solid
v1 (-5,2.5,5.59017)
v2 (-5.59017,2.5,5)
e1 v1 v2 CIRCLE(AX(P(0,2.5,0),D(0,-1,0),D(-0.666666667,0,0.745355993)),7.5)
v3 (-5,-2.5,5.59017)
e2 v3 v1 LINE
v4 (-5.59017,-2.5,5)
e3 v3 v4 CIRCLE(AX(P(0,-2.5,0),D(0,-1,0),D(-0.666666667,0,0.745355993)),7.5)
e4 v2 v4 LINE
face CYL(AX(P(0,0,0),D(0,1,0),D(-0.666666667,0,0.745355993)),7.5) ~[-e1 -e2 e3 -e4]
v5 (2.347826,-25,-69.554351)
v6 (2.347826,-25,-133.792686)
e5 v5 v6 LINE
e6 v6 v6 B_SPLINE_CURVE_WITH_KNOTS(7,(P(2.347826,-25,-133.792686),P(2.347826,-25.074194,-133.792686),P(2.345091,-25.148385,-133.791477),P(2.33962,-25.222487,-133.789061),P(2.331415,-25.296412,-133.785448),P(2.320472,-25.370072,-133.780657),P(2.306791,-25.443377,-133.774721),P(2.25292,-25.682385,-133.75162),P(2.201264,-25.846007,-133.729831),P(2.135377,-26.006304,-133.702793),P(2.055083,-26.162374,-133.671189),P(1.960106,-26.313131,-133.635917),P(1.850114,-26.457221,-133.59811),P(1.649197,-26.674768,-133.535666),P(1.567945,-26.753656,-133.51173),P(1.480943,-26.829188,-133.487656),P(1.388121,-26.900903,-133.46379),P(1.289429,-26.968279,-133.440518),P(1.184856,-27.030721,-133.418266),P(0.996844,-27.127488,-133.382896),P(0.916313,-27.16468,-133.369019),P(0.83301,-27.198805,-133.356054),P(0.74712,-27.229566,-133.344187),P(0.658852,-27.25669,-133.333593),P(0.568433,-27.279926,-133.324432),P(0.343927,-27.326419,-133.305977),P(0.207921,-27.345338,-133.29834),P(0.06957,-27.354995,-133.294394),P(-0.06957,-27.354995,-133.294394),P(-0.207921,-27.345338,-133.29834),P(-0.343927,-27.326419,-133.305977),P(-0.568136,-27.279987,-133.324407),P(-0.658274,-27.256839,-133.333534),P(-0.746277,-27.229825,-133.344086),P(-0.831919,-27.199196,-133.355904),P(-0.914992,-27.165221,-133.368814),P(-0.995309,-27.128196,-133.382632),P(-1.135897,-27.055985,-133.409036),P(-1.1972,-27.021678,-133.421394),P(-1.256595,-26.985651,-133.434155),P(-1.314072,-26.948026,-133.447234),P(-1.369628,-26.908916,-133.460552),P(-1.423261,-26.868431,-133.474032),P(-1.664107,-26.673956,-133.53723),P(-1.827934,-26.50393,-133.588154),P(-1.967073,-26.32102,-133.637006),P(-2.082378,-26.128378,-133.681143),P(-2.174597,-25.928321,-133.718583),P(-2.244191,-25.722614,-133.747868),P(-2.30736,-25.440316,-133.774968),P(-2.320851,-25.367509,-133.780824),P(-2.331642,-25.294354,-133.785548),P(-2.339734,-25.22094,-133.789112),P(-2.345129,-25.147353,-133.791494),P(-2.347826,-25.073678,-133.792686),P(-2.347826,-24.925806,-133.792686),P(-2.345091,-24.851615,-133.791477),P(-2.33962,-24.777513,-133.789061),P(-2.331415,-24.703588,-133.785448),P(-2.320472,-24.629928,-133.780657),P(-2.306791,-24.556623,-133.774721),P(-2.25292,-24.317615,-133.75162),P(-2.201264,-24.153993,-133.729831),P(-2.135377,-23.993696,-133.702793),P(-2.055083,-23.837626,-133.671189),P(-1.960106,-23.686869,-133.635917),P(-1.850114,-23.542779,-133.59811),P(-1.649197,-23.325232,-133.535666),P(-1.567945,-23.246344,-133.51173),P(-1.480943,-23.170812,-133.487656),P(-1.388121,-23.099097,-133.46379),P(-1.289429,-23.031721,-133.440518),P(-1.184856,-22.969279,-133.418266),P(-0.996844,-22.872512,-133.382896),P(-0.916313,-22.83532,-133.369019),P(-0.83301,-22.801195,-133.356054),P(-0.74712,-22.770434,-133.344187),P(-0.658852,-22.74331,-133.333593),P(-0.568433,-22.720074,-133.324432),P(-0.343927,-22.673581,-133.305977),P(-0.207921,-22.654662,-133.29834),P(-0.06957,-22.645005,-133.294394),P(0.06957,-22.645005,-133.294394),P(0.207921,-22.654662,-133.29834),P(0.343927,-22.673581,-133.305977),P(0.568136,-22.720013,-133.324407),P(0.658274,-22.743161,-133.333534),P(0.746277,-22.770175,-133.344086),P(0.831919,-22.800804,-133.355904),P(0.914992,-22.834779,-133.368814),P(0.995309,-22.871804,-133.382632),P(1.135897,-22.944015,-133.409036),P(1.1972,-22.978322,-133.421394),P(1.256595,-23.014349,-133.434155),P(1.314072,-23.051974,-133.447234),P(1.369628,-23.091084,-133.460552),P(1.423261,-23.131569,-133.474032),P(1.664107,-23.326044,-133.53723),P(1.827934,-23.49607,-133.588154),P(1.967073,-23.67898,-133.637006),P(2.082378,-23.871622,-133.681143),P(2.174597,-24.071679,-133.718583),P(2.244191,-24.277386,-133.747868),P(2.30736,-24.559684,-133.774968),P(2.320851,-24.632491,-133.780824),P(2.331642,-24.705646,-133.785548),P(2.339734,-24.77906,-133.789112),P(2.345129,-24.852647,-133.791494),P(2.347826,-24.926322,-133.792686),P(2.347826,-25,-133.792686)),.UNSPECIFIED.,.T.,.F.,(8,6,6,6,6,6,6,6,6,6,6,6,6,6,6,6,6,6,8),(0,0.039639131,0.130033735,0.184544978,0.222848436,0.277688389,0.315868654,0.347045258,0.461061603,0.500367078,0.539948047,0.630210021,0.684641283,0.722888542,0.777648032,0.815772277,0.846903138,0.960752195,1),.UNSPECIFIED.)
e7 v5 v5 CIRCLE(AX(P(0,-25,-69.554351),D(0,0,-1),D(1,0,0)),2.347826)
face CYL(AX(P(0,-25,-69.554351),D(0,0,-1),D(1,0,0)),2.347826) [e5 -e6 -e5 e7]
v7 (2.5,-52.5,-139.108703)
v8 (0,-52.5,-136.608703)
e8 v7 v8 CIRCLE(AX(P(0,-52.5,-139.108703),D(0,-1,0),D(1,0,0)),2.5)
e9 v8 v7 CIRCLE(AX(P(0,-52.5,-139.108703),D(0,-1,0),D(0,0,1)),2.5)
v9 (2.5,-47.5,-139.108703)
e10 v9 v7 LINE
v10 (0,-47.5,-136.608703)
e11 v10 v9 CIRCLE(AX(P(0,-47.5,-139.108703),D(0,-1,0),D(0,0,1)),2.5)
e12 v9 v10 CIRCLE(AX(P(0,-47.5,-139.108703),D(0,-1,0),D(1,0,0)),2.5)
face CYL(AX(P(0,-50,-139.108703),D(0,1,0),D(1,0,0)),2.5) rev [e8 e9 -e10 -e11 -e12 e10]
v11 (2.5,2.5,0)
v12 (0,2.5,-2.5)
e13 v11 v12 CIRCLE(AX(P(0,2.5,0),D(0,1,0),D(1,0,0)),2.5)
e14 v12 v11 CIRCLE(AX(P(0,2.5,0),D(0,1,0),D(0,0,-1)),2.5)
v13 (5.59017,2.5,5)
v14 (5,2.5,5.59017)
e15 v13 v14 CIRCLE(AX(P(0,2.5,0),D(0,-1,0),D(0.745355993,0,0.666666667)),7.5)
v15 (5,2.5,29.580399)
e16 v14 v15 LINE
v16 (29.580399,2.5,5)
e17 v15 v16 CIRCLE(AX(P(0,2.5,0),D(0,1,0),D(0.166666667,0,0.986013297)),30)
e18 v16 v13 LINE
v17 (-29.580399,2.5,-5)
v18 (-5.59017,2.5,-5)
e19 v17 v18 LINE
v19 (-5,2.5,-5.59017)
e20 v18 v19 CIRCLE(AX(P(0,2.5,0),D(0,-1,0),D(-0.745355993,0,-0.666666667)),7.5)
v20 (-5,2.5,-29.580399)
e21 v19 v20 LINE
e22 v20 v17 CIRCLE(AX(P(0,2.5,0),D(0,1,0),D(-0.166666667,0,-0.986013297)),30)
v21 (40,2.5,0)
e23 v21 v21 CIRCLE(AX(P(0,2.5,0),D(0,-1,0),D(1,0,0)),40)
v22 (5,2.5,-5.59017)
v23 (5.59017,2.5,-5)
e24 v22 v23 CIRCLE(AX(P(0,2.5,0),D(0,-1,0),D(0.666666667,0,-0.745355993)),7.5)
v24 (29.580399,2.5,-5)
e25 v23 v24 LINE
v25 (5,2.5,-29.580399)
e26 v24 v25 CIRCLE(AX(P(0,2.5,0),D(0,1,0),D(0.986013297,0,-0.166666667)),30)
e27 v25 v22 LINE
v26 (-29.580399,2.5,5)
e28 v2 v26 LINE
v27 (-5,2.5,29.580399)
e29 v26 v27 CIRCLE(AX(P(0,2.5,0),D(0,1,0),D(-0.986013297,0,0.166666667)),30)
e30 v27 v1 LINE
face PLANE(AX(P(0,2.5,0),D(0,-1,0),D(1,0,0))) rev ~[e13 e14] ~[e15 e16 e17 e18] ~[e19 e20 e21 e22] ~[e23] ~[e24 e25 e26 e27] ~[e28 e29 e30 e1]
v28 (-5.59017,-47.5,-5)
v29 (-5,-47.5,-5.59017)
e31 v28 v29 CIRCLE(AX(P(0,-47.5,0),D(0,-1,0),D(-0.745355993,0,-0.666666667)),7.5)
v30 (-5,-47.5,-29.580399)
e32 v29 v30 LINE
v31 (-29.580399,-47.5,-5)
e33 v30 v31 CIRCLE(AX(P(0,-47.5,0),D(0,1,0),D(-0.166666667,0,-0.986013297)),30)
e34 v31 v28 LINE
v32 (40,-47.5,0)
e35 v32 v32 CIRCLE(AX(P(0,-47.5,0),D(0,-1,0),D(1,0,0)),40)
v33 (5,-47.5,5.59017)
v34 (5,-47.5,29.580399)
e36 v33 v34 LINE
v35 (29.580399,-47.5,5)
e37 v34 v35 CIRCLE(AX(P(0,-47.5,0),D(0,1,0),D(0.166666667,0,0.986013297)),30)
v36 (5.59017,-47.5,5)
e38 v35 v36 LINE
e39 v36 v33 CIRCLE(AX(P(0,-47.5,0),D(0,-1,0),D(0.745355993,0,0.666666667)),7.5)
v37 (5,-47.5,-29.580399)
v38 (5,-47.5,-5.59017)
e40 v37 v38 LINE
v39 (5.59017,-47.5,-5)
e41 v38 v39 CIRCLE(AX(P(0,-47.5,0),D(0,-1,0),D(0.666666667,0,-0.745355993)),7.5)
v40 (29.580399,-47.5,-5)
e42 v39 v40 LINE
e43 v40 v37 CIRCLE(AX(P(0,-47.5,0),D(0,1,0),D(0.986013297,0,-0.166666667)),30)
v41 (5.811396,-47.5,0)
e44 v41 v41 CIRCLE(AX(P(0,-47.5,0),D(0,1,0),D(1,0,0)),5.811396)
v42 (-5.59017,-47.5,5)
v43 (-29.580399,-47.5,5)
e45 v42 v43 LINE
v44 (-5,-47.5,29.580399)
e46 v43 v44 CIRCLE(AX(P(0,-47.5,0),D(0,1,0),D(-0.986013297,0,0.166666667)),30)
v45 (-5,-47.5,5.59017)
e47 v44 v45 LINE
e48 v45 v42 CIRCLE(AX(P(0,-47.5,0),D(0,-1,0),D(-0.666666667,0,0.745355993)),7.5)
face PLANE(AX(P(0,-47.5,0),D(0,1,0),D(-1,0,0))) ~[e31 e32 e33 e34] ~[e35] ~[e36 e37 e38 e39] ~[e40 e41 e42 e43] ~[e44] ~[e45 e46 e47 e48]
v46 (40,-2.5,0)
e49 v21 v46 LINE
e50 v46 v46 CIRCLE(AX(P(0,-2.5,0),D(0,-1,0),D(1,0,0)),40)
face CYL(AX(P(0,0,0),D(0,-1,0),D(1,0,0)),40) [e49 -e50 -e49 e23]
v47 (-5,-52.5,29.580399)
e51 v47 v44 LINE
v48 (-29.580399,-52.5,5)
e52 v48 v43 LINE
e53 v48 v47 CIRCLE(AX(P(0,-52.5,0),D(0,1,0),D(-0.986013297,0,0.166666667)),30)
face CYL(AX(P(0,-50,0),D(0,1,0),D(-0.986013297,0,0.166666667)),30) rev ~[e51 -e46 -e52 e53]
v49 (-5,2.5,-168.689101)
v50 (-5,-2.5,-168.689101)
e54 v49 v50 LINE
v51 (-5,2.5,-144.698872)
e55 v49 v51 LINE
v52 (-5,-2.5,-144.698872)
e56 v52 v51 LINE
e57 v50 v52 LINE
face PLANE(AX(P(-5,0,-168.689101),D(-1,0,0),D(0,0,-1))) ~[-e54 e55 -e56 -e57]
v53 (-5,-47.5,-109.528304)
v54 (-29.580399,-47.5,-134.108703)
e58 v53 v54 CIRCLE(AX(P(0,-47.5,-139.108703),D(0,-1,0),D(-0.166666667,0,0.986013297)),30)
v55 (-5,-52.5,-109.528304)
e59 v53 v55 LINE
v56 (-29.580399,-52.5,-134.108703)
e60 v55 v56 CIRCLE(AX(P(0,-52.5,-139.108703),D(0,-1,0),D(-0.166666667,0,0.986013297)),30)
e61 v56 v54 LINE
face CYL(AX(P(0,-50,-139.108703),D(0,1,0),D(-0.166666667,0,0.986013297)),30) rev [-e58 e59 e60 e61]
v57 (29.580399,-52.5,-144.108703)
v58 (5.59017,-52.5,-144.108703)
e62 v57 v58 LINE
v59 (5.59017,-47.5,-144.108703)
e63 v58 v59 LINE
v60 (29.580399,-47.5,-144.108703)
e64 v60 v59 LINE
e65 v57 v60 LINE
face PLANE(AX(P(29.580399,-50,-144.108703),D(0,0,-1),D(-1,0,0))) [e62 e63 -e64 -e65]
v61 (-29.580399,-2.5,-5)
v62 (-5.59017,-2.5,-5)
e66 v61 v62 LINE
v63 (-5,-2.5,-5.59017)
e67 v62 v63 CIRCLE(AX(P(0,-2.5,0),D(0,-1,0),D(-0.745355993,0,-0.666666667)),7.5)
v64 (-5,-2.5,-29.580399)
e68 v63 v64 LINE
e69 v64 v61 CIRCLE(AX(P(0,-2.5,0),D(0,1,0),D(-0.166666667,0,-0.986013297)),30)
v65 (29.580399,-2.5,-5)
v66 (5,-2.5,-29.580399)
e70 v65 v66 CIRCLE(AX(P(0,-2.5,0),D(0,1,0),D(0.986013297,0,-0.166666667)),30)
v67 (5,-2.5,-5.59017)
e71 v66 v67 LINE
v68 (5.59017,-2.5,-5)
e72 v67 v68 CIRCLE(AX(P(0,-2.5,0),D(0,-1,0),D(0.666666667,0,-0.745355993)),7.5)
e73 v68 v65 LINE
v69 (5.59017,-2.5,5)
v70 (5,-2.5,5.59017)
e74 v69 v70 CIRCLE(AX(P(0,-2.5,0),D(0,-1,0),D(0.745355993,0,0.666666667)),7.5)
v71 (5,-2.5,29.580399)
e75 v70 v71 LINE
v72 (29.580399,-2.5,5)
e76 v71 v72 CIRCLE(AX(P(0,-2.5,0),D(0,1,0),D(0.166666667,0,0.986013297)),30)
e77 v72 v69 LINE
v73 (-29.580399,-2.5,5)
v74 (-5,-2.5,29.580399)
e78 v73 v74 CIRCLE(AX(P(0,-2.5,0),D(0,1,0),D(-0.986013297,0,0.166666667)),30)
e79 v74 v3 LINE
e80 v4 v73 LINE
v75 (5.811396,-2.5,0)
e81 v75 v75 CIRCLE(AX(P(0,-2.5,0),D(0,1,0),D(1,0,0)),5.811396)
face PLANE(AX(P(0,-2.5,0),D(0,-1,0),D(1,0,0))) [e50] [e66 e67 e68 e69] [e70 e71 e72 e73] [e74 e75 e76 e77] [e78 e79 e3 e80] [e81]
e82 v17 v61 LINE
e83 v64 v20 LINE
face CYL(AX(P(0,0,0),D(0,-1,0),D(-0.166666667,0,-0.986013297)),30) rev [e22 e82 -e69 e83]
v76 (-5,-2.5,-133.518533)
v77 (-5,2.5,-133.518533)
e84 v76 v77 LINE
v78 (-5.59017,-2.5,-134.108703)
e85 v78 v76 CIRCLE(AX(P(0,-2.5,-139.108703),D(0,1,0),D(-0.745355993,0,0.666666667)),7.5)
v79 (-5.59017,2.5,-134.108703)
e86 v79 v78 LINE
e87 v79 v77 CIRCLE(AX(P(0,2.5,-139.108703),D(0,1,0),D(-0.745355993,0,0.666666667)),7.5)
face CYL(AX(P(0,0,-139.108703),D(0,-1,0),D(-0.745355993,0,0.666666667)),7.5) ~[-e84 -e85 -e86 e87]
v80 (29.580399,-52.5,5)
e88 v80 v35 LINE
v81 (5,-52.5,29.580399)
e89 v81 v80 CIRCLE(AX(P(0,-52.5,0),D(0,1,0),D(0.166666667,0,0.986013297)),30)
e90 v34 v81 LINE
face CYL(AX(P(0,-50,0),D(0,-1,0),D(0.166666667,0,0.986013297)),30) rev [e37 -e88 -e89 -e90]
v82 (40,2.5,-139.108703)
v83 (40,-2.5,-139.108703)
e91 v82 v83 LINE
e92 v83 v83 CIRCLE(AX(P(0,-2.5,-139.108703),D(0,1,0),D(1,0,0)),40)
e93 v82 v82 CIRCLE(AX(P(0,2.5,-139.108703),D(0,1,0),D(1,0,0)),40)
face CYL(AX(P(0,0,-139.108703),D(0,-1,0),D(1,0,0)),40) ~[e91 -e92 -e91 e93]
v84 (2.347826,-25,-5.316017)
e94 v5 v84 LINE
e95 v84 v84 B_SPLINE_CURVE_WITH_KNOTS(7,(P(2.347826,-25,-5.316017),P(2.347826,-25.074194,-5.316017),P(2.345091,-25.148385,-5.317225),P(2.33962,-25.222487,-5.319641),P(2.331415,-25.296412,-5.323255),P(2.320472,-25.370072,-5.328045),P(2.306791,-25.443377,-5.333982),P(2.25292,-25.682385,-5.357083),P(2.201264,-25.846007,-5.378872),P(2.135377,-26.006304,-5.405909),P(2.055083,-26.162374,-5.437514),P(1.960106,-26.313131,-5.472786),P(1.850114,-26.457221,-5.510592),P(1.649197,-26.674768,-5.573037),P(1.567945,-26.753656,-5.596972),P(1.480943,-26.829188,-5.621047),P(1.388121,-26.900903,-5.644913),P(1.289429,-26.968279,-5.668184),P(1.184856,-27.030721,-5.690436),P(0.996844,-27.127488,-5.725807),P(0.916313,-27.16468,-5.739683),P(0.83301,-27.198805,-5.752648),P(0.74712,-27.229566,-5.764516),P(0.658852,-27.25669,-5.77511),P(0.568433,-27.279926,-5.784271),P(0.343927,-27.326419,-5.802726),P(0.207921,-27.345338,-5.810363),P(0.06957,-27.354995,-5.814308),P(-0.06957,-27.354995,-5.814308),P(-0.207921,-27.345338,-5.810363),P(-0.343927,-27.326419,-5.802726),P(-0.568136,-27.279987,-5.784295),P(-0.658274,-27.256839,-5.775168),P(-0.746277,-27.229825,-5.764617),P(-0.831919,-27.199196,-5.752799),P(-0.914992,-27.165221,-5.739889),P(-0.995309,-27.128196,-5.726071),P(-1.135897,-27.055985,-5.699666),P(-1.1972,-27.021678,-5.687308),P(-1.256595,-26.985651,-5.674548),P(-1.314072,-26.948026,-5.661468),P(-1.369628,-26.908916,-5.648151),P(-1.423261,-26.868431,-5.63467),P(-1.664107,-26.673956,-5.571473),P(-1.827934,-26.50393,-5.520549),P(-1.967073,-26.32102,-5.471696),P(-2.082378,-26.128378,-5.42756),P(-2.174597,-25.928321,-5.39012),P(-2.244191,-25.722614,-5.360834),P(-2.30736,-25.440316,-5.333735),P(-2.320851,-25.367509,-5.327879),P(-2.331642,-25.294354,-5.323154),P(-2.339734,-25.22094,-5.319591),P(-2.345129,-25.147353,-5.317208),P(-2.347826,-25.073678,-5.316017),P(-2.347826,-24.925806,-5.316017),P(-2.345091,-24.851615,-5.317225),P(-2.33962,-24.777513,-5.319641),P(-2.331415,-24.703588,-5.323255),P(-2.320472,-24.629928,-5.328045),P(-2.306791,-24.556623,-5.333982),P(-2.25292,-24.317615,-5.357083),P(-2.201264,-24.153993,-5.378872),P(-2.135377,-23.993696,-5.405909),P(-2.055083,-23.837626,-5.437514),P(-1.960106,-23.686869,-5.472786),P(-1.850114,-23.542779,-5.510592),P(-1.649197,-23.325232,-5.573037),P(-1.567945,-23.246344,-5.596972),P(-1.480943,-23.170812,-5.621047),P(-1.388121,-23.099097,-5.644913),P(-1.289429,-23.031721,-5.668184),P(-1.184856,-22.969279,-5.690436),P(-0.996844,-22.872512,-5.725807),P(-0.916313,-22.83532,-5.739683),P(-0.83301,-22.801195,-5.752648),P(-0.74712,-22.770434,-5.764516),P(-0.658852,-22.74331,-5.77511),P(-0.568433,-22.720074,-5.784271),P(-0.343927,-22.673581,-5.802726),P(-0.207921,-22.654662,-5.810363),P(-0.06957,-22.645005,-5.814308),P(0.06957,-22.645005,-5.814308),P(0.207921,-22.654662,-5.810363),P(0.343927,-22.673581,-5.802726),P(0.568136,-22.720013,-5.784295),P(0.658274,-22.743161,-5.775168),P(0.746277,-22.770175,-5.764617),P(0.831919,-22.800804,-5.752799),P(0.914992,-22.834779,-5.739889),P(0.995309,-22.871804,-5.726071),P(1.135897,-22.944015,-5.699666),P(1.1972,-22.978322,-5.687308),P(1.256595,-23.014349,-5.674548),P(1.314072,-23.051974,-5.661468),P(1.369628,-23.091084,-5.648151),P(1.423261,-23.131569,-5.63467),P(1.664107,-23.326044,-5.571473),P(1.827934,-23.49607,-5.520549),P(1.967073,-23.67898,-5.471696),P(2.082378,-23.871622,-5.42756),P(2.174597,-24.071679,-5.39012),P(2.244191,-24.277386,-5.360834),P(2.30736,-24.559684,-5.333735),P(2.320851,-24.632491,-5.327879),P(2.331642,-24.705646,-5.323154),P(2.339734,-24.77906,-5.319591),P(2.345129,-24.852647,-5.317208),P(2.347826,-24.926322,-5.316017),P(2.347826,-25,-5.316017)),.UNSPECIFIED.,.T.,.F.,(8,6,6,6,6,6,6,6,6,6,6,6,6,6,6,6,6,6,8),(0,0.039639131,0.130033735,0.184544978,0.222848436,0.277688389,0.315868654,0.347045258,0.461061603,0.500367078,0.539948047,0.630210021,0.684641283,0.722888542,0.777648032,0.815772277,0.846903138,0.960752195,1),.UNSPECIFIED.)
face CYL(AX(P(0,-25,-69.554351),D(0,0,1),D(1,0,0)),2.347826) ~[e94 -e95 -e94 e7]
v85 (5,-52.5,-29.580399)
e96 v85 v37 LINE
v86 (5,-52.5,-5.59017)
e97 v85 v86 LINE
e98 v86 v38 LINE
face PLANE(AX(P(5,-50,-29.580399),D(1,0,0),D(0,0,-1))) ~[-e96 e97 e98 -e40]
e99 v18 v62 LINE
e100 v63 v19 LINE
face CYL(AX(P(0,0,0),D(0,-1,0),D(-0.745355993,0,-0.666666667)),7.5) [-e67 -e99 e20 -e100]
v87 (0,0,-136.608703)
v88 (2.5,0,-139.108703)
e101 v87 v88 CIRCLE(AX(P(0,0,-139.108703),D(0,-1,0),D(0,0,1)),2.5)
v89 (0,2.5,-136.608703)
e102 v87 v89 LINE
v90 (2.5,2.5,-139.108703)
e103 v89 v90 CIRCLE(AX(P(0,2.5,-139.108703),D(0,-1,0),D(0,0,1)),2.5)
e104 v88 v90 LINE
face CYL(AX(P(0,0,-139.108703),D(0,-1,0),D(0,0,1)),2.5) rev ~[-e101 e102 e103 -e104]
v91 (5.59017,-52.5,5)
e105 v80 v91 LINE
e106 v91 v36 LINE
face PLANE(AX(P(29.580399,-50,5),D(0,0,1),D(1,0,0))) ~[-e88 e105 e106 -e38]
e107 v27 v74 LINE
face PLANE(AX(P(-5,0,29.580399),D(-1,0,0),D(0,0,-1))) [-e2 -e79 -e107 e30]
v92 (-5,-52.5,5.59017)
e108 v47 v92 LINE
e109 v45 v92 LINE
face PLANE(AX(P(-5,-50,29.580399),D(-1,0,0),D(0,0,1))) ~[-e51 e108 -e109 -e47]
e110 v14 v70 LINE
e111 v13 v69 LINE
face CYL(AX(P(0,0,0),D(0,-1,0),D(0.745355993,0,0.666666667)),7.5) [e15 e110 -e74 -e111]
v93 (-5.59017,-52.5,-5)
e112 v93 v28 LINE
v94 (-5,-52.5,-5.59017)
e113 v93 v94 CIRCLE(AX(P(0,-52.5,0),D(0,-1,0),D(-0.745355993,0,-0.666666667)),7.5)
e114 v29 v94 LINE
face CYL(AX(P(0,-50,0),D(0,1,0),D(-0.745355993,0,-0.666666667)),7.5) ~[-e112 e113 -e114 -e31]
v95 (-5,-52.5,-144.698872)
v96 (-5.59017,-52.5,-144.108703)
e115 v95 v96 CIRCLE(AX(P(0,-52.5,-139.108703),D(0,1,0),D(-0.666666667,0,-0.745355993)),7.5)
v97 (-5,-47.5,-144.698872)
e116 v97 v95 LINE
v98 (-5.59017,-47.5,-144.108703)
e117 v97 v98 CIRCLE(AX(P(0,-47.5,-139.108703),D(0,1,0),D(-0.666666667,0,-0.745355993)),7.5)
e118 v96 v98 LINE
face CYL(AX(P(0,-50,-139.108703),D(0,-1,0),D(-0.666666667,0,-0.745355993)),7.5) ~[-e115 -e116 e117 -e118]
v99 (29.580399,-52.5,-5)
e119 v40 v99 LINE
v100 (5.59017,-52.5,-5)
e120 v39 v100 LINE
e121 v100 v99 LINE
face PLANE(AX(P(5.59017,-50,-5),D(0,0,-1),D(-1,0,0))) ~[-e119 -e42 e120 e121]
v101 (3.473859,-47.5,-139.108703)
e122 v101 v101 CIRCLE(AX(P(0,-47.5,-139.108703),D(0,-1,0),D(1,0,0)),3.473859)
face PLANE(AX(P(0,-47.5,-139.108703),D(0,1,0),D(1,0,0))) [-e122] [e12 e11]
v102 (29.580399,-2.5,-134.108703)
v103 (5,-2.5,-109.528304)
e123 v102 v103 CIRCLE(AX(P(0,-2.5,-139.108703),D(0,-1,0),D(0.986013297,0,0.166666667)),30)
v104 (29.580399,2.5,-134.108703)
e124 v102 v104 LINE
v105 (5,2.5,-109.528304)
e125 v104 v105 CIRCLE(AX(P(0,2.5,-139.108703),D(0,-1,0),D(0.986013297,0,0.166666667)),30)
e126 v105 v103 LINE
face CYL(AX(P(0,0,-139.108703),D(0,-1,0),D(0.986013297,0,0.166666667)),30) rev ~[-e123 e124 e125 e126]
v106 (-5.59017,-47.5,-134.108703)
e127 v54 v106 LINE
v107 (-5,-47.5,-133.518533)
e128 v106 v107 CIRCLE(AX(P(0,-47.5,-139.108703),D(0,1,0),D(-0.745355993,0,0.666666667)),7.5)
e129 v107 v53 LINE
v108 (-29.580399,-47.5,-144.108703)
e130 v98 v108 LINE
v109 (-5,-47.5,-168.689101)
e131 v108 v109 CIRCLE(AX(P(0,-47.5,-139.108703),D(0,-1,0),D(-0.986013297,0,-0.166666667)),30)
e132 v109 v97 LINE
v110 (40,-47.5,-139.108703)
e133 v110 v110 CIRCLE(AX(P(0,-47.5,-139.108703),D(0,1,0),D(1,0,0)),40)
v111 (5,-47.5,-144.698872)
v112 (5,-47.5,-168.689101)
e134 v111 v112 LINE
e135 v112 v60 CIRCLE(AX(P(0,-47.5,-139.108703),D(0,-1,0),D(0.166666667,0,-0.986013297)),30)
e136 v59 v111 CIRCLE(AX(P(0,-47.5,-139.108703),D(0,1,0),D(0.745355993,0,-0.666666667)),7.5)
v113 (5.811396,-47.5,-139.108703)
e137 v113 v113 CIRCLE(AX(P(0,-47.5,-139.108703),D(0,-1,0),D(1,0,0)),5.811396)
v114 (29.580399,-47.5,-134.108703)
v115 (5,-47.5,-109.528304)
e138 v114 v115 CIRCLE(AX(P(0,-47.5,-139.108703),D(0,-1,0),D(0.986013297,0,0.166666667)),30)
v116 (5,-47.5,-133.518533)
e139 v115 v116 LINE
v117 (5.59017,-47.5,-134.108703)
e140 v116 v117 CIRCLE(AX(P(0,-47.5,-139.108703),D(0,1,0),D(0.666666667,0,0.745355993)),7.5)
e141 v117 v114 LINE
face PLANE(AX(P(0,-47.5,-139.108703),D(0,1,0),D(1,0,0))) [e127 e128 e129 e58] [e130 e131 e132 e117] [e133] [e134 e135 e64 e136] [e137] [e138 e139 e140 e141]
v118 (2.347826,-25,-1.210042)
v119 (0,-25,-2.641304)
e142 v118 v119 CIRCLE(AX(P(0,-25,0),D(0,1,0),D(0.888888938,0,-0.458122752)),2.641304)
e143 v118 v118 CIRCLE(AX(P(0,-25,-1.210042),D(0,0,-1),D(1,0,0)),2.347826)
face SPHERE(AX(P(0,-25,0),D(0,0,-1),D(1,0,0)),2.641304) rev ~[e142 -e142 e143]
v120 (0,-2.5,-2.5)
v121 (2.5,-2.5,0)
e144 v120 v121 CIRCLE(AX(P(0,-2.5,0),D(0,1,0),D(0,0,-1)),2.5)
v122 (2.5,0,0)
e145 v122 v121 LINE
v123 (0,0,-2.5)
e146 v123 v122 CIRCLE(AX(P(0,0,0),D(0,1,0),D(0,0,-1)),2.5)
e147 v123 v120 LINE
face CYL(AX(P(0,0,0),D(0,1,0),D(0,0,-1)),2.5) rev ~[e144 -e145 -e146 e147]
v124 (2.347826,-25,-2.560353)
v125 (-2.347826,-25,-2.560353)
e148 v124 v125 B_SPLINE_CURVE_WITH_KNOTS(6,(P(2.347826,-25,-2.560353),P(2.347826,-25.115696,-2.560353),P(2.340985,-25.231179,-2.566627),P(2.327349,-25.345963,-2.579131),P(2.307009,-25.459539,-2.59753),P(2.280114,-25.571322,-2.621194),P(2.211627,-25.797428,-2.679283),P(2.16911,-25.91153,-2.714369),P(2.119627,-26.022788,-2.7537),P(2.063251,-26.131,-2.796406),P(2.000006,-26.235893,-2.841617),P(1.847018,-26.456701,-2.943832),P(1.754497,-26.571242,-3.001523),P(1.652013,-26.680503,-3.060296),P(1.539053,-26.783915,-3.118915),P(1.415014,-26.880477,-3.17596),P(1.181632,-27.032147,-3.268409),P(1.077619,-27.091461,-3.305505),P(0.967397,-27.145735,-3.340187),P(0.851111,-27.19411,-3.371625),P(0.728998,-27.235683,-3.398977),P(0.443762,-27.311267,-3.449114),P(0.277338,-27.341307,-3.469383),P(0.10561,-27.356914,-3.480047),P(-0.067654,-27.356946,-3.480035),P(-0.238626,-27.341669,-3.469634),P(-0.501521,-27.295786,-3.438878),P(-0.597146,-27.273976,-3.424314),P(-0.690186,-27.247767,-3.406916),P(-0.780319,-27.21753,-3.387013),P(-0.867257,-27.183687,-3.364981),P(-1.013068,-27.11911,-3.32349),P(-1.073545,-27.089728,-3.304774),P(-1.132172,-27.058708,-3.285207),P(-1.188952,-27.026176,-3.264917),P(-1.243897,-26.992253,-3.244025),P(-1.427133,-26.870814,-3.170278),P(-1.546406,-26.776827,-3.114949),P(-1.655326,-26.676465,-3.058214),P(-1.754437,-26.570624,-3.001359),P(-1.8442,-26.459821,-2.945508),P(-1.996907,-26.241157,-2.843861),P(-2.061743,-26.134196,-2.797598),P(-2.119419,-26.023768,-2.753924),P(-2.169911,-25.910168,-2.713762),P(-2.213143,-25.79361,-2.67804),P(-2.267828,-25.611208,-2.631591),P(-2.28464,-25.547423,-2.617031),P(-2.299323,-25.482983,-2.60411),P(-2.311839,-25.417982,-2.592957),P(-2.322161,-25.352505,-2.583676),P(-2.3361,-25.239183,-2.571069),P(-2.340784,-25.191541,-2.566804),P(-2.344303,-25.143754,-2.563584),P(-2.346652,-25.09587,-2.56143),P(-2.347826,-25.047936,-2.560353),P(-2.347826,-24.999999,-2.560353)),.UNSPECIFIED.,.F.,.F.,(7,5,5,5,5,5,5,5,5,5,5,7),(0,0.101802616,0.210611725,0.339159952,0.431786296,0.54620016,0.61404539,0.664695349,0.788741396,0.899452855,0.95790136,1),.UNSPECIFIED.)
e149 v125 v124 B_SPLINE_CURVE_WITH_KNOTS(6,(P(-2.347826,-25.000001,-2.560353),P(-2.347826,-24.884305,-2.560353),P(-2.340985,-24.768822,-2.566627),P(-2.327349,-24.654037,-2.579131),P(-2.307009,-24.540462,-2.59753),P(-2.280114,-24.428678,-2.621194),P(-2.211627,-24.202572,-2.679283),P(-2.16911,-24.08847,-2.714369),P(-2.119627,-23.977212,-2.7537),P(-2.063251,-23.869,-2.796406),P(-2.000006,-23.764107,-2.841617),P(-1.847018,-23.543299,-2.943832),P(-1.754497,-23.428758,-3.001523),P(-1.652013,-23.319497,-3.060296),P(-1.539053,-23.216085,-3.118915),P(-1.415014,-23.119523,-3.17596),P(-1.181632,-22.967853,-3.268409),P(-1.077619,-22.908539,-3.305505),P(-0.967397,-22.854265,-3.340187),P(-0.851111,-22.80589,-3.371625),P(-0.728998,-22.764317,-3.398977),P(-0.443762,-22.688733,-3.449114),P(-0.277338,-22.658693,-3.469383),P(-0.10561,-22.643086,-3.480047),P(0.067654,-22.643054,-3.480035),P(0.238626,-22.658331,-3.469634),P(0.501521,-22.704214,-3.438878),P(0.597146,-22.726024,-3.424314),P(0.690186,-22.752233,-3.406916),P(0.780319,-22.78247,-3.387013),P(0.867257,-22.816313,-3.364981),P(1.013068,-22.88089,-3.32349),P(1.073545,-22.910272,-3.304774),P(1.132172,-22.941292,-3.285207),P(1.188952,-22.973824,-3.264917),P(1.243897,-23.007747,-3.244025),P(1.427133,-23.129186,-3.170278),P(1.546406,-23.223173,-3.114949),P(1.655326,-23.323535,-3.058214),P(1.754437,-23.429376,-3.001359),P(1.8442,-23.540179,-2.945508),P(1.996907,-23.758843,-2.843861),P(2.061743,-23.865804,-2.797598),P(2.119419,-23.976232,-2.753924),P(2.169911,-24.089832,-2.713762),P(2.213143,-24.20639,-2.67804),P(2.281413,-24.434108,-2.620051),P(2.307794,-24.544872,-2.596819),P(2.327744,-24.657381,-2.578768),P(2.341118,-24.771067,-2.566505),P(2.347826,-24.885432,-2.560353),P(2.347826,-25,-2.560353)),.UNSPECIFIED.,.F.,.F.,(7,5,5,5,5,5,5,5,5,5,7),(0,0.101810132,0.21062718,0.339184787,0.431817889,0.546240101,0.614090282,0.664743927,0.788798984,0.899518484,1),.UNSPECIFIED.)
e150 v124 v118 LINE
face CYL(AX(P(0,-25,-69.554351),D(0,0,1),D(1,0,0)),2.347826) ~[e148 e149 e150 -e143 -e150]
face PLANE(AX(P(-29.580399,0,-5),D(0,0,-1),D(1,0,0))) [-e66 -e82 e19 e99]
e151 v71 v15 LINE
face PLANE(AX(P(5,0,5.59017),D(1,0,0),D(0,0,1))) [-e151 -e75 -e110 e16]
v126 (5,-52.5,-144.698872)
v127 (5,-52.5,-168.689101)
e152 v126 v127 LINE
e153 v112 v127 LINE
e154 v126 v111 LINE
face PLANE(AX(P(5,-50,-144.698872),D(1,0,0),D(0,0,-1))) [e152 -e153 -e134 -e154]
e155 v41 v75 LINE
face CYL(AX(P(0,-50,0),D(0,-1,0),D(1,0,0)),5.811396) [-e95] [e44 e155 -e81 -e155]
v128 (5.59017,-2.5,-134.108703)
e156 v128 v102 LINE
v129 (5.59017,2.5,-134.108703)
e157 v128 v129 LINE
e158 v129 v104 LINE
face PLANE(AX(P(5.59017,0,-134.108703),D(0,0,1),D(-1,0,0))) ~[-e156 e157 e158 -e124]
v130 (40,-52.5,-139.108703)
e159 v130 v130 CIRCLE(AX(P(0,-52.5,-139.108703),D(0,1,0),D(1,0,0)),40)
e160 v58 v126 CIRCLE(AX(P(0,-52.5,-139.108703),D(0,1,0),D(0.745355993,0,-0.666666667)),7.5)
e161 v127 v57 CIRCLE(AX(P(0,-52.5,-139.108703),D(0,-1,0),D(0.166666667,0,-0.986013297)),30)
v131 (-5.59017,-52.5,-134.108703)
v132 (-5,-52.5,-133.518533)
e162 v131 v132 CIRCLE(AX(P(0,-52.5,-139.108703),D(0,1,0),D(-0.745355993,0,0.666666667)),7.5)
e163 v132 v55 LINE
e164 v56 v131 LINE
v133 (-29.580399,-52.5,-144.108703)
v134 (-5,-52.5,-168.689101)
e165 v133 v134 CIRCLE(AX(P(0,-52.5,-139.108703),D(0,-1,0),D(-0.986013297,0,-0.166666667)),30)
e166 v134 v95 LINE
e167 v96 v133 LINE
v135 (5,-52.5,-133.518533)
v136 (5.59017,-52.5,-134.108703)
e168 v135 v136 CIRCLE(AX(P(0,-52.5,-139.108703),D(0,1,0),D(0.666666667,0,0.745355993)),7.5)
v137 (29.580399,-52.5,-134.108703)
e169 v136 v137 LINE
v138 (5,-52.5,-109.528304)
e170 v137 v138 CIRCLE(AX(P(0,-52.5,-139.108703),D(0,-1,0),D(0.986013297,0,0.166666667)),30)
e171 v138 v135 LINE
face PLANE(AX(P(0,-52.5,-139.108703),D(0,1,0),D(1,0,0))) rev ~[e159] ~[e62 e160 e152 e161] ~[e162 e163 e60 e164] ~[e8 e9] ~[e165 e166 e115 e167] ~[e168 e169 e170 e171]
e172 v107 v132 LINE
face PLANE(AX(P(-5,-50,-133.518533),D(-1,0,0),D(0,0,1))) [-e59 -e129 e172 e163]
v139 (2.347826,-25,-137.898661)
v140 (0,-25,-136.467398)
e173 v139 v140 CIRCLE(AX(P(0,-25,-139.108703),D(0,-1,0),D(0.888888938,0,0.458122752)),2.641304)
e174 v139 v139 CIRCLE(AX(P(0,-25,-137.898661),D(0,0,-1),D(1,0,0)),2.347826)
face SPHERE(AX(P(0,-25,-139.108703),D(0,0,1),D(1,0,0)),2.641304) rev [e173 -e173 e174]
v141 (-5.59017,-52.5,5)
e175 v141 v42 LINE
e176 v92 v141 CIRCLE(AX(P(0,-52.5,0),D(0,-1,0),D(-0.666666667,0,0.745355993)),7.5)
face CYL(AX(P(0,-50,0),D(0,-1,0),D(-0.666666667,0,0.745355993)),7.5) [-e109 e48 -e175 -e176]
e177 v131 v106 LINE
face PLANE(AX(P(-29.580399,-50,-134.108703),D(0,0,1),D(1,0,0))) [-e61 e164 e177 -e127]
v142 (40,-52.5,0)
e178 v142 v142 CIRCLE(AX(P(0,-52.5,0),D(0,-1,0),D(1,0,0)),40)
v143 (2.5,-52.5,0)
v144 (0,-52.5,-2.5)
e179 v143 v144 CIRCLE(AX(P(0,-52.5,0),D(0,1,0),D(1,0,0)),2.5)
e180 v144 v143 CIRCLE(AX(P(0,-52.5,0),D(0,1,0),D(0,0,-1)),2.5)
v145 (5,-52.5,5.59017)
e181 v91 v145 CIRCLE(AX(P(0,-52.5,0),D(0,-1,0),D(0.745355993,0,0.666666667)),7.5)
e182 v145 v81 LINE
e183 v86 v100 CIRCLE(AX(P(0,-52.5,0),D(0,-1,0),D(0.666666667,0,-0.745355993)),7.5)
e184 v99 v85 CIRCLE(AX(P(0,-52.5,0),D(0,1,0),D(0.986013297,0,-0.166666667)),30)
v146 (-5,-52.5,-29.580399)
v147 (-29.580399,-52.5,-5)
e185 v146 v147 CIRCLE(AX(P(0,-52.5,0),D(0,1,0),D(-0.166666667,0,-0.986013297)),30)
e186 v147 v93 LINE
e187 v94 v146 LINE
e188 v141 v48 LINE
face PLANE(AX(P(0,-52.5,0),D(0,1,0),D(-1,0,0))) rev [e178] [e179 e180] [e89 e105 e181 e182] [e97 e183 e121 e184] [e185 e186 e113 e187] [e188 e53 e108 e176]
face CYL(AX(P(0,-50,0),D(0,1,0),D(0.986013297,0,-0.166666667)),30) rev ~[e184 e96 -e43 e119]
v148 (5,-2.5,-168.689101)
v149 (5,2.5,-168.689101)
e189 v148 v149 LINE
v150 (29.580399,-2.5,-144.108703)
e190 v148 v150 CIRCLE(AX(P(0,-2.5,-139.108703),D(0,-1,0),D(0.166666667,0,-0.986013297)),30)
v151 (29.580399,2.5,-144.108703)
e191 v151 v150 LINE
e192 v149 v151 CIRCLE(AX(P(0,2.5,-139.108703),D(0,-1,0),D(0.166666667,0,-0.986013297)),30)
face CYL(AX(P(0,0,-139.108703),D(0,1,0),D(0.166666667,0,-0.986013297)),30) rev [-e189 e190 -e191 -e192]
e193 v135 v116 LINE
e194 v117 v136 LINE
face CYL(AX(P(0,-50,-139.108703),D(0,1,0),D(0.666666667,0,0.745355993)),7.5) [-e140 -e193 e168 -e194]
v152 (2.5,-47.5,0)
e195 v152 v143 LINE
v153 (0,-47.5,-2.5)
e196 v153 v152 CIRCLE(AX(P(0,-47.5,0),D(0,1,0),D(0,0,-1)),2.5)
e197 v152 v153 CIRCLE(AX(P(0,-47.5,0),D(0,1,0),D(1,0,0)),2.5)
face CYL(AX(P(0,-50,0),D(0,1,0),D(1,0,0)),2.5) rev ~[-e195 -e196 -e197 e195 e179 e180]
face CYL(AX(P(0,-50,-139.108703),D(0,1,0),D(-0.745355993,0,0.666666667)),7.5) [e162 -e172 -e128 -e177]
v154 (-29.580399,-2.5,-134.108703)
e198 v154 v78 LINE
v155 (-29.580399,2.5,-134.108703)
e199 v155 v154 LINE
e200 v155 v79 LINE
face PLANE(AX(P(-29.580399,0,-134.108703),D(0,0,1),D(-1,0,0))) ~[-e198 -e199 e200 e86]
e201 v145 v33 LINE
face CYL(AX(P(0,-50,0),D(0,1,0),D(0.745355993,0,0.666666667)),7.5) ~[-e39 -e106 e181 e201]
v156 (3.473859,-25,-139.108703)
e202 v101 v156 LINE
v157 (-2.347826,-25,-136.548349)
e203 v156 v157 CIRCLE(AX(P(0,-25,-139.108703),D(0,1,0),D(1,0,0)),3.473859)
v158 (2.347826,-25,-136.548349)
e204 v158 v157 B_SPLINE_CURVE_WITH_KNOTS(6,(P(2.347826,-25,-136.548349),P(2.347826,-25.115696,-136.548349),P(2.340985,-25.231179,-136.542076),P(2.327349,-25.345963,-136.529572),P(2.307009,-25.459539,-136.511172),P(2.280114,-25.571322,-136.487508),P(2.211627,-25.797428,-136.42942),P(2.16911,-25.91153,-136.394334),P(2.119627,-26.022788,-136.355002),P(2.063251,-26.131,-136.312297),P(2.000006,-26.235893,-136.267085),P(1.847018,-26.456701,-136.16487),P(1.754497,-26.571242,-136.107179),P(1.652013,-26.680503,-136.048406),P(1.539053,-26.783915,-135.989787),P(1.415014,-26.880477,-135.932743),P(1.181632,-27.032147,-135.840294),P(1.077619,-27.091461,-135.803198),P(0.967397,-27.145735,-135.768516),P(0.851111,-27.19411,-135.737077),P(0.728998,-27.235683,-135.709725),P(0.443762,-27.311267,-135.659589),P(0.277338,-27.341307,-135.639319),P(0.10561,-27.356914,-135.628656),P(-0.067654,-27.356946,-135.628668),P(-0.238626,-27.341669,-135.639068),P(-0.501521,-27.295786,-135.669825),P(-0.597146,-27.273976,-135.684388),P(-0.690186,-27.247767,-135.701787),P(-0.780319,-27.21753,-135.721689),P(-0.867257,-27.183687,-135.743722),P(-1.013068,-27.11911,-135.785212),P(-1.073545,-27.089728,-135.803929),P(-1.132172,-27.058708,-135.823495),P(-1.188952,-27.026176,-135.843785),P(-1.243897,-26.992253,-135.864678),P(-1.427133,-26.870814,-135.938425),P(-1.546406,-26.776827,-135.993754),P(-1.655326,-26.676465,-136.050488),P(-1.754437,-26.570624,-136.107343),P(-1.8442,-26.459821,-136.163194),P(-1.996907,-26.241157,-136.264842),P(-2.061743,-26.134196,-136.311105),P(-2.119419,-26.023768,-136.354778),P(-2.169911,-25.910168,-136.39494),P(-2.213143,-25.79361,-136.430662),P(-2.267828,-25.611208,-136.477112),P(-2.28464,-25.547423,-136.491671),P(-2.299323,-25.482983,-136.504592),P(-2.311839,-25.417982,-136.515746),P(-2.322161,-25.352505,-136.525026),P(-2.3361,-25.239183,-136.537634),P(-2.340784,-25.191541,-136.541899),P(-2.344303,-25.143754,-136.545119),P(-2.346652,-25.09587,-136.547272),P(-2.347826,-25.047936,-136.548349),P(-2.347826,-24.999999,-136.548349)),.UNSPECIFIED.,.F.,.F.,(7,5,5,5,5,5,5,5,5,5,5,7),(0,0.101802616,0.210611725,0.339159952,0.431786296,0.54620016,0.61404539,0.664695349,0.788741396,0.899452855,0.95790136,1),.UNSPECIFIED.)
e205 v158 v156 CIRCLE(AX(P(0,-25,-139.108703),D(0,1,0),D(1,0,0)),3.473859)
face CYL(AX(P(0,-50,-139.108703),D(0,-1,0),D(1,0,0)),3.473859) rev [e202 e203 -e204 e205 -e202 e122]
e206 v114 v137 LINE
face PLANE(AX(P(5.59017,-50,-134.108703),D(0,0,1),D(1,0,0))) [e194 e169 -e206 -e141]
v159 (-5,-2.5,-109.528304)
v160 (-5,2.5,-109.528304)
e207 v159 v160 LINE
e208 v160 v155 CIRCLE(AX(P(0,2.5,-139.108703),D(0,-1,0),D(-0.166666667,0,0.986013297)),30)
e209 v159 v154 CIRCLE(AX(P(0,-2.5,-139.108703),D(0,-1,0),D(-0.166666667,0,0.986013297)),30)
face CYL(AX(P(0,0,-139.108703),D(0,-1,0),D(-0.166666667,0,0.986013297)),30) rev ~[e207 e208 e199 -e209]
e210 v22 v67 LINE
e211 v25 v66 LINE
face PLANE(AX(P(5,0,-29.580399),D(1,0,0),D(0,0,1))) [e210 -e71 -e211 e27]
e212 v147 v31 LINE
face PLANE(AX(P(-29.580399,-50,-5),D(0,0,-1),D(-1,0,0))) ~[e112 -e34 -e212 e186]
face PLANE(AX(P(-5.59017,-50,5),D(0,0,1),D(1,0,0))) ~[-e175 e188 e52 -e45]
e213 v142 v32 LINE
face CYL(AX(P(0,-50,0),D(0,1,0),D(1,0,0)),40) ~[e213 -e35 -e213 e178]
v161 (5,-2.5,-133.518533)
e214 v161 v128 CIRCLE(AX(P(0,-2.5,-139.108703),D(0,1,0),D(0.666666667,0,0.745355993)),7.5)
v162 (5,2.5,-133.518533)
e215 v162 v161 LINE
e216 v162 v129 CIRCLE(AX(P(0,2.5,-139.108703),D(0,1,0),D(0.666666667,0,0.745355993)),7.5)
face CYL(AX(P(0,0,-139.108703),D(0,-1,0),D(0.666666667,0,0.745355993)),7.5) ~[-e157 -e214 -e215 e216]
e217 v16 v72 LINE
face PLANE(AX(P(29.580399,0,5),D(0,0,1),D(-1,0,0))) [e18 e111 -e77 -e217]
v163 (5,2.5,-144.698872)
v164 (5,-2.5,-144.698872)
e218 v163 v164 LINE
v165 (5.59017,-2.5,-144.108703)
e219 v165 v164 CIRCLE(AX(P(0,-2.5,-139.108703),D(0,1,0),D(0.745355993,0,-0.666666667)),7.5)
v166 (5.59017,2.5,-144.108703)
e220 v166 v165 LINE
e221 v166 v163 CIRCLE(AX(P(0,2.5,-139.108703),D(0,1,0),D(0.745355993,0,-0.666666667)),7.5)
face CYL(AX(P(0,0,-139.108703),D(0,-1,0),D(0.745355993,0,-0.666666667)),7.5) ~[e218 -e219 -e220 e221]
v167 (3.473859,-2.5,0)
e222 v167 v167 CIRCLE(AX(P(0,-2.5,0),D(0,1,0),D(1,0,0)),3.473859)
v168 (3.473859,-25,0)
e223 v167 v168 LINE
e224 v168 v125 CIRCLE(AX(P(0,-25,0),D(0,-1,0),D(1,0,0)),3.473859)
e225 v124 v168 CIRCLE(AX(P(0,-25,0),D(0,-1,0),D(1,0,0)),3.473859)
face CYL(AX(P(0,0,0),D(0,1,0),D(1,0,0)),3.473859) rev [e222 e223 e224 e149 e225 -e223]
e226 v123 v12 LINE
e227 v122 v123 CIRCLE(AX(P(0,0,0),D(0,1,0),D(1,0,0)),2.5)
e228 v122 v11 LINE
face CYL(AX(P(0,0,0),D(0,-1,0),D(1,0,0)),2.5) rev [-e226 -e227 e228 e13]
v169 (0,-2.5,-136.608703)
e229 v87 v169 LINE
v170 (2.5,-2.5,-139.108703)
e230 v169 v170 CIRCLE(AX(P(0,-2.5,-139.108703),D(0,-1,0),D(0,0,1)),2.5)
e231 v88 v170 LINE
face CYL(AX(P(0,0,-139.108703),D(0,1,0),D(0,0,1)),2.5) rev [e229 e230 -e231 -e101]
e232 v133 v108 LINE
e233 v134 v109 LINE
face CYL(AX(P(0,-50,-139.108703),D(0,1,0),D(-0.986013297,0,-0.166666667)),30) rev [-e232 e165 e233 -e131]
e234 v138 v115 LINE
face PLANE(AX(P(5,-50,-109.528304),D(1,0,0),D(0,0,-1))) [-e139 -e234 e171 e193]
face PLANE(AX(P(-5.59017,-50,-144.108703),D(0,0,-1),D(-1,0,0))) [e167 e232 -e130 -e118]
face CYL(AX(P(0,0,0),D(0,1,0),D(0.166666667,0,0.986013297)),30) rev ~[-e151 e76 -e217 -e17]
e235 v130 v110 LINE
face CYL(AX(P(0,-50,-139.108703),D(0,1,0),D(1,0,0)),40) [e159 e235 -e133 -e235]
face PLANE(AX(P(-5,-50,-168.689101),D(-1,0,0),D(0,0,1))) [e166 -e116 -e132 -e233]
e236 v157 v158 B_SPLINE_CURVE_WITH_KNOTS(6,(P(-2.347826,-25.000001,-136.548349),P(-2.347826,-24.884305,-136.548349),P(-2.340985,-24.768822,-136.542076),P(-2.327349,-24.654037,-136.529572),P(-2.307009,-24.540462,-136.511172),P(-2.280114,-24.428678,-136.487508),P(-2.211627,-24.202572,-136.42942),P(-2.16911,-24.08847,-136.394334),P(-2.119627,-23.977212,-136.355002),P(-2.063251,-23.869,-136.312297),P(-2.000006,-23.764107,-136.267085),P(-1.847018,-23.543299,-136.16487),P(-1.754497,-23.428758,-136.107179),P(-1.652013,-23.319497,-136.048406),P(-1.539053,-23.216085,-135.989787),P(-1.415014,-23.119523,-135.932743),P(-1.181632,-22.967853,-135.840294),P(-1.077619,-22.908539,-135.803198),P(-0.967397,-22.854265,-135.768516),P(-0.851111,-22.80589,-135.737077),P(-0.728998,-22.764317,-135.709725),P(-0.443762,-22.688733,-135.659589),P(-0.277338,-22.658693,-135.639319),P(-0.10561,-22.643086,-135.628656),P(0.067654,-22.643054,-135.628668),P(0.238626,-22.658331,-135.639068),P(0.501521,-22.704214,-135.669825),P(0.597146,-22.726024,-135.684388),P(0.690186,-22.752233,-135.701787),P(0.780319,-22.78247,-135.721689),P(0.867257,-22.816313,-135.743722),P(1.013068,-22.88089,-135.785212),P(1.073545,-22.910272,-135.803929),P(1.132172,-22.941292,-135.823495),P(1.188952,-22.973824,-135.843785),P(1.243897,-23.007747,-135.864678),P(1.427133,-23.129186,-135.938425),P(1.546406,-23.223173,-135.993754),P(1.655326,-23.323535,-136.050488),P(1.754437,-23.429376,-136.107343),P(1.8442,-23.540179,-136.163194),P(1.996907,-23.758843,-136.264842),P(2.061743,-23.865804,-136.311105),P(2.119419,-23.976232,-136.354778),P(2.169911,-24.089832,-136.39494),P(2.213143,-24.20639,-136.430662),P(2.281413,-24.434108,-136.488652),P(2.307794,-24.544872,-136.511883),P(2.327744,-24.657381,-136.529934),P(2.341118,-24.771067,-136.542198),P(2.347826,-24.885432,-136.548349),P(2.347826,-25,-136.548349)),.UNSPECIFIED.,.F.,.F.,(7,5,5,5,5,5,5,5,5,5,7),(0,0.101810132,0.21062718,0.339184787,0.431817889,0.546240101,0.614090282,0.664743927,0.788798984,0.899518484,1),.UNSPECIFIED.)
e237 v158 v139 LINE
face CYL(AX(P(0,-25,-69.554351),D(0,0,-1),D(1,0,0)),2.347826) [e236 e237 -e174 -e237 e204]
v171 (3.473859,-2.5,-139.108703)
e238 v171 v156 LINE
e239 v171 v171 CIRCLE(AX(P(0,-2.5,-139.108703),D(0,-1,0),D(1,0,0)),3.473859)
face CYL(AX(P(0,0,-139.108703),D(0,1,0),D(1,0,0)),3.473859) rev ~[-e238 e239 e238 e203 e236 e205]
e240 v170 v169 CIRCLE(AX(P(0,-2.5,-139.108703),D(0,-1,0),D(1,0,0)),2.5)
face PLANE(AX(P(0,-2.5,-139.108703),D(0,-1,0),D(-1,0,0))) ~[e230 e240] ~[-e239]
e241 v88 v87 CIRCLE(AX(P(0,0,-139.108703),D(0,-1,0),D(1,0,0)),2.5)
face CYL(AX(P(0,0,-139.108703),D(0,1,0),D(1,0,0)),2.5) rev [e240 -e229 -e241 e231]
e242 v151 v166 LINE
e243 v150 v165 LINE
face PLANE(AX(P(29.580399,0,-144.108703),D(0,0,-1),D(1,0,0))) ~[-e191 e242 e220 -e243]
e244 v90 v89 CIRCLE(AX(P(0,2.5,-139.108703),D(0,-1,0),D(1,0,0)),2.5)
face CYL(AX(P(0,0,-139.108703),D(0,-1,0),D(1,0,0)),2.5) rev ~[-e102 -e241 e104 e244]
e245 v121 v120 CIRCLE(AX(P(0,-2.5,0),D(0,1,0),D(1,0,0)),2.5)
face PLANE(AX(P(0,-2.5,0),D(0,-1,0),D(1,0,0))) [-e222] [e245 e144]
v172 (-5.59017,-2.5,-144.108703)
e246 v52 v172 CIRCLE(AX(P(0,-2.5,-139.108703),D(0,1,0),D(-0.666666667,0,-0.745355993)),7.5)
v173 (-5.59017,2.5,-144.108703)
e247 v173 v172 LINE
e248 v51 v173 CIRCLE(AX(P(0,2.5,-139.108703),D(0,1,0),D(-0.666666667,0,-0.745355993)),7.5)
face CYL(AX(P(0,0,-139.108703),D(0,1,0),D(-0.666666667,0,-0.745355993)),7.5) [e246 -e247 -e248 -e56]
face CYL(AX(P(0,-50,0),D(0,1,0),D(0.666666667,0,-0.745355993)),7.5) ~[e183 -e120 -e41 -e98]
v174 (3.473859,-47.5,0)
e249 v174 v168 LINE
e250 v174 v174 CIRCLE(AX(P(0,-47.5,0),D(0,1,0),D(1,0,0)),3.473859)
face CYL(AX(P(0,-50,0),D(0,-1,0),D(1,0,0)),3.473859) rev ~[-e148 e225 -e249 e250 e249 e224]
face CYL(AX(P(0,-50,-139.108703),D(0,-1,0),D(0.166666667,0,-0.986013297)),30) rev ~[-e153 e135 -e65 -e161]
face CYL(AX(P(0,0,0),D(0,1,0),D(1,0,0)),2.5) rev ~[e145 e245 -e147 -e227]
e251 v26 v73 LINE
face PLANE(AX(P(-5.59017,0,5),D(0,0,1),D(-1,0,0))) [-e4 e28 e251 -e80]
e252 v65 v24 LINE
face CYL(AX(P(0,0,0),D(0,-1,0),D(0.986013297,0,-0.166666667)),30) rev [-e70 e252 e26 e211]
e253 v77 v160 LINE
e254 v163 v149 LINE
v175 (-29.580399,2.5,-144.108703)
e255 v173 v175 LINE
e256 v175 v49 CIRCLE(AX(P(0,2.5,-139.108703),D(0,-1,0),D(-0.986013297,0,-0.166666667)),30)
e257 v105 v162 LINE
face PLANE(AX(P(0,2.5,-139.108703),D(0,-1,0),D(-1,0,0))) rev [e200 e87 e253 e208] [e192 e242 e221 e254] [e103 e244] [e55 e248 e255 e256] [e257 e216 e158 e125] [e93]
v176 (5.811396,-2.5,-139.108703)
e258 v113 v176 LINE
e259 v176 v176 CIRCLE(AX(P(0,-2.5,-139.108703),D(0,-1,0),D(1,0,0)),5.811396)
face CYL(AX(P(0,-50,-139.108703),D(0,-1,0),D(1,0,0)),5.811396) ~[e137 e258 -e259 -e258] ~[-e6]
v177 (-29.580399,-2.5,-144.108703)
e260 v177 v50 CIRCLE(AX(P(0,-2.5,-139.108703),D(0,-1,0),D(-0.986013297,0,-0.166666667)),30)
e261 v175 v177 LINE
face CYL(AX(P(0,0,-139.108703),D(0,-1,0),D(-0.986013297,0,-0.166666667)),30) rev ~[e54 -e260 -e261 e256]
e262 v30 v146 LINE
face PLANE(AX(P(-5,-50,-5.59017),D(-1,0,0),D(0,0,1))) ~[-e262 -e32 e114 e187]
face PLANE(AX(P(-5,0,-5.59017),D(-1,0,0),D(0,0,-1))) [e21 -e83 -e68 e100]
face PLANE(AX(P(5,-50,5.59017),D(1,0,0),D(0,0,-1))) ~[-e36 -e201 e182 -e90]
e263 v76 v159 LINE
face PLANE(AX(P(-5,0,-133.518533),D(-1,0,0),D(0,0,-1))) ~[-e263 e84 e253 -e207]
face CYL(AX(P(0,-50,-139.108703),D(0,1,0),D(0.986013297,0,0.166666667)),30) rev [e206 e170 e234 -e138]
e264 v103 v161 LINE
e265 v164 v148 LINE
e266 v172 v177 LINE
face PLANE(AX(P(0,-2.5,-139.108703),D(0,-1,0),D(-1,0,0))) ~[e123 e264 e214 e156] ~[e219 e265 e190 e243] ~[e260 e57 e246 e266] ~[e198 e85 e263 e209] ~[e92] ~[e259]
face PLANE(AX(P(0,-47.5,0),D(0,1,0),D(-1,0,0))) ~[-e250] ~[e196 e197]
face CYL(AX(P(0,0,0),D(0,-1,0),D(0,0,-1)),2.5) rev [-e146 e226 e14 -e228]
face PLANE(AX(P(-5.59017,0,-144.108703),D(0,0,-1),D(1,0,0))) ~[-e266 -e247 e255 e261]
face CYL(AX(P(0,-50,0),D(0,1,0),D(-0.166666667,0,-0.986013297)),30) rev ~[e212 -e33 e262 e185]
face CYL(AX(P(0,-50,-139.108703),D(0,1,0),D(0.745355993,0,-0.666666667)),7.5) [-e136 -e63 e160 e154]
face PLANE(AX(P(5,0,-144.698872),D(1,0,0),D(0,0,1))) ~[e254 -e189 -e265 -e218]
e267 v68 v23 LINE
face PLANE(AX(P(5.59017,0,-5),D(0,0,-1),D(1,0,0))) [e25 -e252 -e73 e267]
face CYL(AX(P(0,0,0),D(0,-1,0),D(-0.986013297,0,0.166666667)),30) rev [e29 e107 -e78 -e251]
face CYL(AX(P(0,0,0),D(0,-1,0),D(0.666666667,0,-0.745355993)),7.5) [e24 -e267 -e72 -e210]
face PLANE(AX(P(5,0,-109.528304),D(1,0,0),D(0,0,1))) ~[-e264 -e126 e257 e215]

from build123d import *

# Parameters (mm, degrees)
F0_R     = 40
F1_DEPTH = 2.5
F2_R     = 5.8113961387
F2_R_2   = 3.4738590418
F3_DEPTH = 25


with BuildPart() as f1:
    # F0 (on Front) → F1 (new body, symmetric)
    with BuildSketch(Plane.XZ):
        Circle(F0_R)
        with BuildLine():
            Line((-29.5803989155, -5), (-5.5901699437, -5))
            ThreePointArc((-5.5901699437, -5), (-5.3033008589, -5.3033008589), (-5, -5.5901699437))
            Line((-5, -5.5901699437), (-5, -29.5803989155))
            ThreePointArc((-5, -29.5803989155), (-21.2132034356, -21.2132034356), (-29.5803989155, -5))
        make_face(mode=Mode.SUBTRACT)
        with BuildLine():
            Line((5, -29.5803989155), (5, -5.5901699437))
            ThreePointArc((5, -5.5901699437), (5.3033008589, -5.3033008589), (5.5901699437, -5))
            Line((5.5901699437, -5), (29.5803989155, -5))
            ThreePointArc((29.5803989155, -5), (21.2132034356, -21.2132034356), (5, -29.5803989155))
        make_face(mode=Mode.SUBTRACT)
        with BuildLine():
            Line((-5, 29.5803989155), (-5, 5.5901699437))
            ThreePointArc((-5, 5.5901699437), (-5.3033008589, 5.3033008589), (-5.5901699437, 5))
            Line((-5.5901699437, 5), (-29.5803989155, 5))
            ThreePointArc((-29.5803989155, 5), (-21.2132034356, 21.2132034356), (-5, 29.5803989155))
        make_face(mode=Mode.SUBTRACT)
        with BuildLine():
            ThreePointArc((0, -2.5), (-1.767766953, 1.767766953), (2.5, 0))
            ThreePointArc((2.5, 0), (1.767766953, -1.767766953), (0, -2.5))
        make_face(mode=Mode.SUBTRACT)
        with BuildLine():
            ThreePointArc((5, 29.5803989155), (21.2132034356, 21.2132034356), (29.5803989155, 5))
            Line((29.5803989155, 5), (5.5901699437, 5))
            ThreePointArc((5.5901699437, 5), (5.3033008589, 5.3033008589), (5, 5.5901699437))
            Line((5, 5.5901699437), (5, 29.5803989155))
        make_face(mode=Mode.SUBTRACT)
    extrude(amount=F1_DEPTH, both=True)

    # F2 (on Front) → F3 (join)
    with BuildSketch(Plane.XZ):
        Circle(F2_R)
        Circle(F2_R_2, mode=Mode.SUBTRACT)
    extrude(amount=F3_DEPTH)

    # F4: F1 across face


with BuildPart() as f1_1:
    add(f1.part)
    add(f1.part.mirror(Plane.XZ.offset(25)))

    # F6 (on offset) → F7 (revolve)
    with BuildSketch(Plane.XZ.offset(25)):
        with BuildLine():
            Line((0, -2.6413043961), (0, -69.5543512702))
            Line((0, -69.5543512702), (2.3478262592, -69.5543512702))
            Line((2.3478262592, -69.5543512702), (2.3478262592, -2.6413043961))
            Line((2.3478262592, -2.6413043961), (2.3478262592, -1.2100416395))
            ThreePointArc((2.3478262592, -1.2100416395), (1.3748455569, -2.2552801616), (0, -2.6413043961))
        make_face()
    revolve(axis=Axis((0, -25, -36.0978278331), (0, 0, -1)))

    # F8: F1 across face


with BuildPart() as f1_2:
    add(f1_1.part)
    add(f1_1.part.mirror(Plane(origin=(0, -25, -69.5543512702), x_dir=(1, 0, 0), z_dir=(0, 0, -1))))


solid = f1_2.part
